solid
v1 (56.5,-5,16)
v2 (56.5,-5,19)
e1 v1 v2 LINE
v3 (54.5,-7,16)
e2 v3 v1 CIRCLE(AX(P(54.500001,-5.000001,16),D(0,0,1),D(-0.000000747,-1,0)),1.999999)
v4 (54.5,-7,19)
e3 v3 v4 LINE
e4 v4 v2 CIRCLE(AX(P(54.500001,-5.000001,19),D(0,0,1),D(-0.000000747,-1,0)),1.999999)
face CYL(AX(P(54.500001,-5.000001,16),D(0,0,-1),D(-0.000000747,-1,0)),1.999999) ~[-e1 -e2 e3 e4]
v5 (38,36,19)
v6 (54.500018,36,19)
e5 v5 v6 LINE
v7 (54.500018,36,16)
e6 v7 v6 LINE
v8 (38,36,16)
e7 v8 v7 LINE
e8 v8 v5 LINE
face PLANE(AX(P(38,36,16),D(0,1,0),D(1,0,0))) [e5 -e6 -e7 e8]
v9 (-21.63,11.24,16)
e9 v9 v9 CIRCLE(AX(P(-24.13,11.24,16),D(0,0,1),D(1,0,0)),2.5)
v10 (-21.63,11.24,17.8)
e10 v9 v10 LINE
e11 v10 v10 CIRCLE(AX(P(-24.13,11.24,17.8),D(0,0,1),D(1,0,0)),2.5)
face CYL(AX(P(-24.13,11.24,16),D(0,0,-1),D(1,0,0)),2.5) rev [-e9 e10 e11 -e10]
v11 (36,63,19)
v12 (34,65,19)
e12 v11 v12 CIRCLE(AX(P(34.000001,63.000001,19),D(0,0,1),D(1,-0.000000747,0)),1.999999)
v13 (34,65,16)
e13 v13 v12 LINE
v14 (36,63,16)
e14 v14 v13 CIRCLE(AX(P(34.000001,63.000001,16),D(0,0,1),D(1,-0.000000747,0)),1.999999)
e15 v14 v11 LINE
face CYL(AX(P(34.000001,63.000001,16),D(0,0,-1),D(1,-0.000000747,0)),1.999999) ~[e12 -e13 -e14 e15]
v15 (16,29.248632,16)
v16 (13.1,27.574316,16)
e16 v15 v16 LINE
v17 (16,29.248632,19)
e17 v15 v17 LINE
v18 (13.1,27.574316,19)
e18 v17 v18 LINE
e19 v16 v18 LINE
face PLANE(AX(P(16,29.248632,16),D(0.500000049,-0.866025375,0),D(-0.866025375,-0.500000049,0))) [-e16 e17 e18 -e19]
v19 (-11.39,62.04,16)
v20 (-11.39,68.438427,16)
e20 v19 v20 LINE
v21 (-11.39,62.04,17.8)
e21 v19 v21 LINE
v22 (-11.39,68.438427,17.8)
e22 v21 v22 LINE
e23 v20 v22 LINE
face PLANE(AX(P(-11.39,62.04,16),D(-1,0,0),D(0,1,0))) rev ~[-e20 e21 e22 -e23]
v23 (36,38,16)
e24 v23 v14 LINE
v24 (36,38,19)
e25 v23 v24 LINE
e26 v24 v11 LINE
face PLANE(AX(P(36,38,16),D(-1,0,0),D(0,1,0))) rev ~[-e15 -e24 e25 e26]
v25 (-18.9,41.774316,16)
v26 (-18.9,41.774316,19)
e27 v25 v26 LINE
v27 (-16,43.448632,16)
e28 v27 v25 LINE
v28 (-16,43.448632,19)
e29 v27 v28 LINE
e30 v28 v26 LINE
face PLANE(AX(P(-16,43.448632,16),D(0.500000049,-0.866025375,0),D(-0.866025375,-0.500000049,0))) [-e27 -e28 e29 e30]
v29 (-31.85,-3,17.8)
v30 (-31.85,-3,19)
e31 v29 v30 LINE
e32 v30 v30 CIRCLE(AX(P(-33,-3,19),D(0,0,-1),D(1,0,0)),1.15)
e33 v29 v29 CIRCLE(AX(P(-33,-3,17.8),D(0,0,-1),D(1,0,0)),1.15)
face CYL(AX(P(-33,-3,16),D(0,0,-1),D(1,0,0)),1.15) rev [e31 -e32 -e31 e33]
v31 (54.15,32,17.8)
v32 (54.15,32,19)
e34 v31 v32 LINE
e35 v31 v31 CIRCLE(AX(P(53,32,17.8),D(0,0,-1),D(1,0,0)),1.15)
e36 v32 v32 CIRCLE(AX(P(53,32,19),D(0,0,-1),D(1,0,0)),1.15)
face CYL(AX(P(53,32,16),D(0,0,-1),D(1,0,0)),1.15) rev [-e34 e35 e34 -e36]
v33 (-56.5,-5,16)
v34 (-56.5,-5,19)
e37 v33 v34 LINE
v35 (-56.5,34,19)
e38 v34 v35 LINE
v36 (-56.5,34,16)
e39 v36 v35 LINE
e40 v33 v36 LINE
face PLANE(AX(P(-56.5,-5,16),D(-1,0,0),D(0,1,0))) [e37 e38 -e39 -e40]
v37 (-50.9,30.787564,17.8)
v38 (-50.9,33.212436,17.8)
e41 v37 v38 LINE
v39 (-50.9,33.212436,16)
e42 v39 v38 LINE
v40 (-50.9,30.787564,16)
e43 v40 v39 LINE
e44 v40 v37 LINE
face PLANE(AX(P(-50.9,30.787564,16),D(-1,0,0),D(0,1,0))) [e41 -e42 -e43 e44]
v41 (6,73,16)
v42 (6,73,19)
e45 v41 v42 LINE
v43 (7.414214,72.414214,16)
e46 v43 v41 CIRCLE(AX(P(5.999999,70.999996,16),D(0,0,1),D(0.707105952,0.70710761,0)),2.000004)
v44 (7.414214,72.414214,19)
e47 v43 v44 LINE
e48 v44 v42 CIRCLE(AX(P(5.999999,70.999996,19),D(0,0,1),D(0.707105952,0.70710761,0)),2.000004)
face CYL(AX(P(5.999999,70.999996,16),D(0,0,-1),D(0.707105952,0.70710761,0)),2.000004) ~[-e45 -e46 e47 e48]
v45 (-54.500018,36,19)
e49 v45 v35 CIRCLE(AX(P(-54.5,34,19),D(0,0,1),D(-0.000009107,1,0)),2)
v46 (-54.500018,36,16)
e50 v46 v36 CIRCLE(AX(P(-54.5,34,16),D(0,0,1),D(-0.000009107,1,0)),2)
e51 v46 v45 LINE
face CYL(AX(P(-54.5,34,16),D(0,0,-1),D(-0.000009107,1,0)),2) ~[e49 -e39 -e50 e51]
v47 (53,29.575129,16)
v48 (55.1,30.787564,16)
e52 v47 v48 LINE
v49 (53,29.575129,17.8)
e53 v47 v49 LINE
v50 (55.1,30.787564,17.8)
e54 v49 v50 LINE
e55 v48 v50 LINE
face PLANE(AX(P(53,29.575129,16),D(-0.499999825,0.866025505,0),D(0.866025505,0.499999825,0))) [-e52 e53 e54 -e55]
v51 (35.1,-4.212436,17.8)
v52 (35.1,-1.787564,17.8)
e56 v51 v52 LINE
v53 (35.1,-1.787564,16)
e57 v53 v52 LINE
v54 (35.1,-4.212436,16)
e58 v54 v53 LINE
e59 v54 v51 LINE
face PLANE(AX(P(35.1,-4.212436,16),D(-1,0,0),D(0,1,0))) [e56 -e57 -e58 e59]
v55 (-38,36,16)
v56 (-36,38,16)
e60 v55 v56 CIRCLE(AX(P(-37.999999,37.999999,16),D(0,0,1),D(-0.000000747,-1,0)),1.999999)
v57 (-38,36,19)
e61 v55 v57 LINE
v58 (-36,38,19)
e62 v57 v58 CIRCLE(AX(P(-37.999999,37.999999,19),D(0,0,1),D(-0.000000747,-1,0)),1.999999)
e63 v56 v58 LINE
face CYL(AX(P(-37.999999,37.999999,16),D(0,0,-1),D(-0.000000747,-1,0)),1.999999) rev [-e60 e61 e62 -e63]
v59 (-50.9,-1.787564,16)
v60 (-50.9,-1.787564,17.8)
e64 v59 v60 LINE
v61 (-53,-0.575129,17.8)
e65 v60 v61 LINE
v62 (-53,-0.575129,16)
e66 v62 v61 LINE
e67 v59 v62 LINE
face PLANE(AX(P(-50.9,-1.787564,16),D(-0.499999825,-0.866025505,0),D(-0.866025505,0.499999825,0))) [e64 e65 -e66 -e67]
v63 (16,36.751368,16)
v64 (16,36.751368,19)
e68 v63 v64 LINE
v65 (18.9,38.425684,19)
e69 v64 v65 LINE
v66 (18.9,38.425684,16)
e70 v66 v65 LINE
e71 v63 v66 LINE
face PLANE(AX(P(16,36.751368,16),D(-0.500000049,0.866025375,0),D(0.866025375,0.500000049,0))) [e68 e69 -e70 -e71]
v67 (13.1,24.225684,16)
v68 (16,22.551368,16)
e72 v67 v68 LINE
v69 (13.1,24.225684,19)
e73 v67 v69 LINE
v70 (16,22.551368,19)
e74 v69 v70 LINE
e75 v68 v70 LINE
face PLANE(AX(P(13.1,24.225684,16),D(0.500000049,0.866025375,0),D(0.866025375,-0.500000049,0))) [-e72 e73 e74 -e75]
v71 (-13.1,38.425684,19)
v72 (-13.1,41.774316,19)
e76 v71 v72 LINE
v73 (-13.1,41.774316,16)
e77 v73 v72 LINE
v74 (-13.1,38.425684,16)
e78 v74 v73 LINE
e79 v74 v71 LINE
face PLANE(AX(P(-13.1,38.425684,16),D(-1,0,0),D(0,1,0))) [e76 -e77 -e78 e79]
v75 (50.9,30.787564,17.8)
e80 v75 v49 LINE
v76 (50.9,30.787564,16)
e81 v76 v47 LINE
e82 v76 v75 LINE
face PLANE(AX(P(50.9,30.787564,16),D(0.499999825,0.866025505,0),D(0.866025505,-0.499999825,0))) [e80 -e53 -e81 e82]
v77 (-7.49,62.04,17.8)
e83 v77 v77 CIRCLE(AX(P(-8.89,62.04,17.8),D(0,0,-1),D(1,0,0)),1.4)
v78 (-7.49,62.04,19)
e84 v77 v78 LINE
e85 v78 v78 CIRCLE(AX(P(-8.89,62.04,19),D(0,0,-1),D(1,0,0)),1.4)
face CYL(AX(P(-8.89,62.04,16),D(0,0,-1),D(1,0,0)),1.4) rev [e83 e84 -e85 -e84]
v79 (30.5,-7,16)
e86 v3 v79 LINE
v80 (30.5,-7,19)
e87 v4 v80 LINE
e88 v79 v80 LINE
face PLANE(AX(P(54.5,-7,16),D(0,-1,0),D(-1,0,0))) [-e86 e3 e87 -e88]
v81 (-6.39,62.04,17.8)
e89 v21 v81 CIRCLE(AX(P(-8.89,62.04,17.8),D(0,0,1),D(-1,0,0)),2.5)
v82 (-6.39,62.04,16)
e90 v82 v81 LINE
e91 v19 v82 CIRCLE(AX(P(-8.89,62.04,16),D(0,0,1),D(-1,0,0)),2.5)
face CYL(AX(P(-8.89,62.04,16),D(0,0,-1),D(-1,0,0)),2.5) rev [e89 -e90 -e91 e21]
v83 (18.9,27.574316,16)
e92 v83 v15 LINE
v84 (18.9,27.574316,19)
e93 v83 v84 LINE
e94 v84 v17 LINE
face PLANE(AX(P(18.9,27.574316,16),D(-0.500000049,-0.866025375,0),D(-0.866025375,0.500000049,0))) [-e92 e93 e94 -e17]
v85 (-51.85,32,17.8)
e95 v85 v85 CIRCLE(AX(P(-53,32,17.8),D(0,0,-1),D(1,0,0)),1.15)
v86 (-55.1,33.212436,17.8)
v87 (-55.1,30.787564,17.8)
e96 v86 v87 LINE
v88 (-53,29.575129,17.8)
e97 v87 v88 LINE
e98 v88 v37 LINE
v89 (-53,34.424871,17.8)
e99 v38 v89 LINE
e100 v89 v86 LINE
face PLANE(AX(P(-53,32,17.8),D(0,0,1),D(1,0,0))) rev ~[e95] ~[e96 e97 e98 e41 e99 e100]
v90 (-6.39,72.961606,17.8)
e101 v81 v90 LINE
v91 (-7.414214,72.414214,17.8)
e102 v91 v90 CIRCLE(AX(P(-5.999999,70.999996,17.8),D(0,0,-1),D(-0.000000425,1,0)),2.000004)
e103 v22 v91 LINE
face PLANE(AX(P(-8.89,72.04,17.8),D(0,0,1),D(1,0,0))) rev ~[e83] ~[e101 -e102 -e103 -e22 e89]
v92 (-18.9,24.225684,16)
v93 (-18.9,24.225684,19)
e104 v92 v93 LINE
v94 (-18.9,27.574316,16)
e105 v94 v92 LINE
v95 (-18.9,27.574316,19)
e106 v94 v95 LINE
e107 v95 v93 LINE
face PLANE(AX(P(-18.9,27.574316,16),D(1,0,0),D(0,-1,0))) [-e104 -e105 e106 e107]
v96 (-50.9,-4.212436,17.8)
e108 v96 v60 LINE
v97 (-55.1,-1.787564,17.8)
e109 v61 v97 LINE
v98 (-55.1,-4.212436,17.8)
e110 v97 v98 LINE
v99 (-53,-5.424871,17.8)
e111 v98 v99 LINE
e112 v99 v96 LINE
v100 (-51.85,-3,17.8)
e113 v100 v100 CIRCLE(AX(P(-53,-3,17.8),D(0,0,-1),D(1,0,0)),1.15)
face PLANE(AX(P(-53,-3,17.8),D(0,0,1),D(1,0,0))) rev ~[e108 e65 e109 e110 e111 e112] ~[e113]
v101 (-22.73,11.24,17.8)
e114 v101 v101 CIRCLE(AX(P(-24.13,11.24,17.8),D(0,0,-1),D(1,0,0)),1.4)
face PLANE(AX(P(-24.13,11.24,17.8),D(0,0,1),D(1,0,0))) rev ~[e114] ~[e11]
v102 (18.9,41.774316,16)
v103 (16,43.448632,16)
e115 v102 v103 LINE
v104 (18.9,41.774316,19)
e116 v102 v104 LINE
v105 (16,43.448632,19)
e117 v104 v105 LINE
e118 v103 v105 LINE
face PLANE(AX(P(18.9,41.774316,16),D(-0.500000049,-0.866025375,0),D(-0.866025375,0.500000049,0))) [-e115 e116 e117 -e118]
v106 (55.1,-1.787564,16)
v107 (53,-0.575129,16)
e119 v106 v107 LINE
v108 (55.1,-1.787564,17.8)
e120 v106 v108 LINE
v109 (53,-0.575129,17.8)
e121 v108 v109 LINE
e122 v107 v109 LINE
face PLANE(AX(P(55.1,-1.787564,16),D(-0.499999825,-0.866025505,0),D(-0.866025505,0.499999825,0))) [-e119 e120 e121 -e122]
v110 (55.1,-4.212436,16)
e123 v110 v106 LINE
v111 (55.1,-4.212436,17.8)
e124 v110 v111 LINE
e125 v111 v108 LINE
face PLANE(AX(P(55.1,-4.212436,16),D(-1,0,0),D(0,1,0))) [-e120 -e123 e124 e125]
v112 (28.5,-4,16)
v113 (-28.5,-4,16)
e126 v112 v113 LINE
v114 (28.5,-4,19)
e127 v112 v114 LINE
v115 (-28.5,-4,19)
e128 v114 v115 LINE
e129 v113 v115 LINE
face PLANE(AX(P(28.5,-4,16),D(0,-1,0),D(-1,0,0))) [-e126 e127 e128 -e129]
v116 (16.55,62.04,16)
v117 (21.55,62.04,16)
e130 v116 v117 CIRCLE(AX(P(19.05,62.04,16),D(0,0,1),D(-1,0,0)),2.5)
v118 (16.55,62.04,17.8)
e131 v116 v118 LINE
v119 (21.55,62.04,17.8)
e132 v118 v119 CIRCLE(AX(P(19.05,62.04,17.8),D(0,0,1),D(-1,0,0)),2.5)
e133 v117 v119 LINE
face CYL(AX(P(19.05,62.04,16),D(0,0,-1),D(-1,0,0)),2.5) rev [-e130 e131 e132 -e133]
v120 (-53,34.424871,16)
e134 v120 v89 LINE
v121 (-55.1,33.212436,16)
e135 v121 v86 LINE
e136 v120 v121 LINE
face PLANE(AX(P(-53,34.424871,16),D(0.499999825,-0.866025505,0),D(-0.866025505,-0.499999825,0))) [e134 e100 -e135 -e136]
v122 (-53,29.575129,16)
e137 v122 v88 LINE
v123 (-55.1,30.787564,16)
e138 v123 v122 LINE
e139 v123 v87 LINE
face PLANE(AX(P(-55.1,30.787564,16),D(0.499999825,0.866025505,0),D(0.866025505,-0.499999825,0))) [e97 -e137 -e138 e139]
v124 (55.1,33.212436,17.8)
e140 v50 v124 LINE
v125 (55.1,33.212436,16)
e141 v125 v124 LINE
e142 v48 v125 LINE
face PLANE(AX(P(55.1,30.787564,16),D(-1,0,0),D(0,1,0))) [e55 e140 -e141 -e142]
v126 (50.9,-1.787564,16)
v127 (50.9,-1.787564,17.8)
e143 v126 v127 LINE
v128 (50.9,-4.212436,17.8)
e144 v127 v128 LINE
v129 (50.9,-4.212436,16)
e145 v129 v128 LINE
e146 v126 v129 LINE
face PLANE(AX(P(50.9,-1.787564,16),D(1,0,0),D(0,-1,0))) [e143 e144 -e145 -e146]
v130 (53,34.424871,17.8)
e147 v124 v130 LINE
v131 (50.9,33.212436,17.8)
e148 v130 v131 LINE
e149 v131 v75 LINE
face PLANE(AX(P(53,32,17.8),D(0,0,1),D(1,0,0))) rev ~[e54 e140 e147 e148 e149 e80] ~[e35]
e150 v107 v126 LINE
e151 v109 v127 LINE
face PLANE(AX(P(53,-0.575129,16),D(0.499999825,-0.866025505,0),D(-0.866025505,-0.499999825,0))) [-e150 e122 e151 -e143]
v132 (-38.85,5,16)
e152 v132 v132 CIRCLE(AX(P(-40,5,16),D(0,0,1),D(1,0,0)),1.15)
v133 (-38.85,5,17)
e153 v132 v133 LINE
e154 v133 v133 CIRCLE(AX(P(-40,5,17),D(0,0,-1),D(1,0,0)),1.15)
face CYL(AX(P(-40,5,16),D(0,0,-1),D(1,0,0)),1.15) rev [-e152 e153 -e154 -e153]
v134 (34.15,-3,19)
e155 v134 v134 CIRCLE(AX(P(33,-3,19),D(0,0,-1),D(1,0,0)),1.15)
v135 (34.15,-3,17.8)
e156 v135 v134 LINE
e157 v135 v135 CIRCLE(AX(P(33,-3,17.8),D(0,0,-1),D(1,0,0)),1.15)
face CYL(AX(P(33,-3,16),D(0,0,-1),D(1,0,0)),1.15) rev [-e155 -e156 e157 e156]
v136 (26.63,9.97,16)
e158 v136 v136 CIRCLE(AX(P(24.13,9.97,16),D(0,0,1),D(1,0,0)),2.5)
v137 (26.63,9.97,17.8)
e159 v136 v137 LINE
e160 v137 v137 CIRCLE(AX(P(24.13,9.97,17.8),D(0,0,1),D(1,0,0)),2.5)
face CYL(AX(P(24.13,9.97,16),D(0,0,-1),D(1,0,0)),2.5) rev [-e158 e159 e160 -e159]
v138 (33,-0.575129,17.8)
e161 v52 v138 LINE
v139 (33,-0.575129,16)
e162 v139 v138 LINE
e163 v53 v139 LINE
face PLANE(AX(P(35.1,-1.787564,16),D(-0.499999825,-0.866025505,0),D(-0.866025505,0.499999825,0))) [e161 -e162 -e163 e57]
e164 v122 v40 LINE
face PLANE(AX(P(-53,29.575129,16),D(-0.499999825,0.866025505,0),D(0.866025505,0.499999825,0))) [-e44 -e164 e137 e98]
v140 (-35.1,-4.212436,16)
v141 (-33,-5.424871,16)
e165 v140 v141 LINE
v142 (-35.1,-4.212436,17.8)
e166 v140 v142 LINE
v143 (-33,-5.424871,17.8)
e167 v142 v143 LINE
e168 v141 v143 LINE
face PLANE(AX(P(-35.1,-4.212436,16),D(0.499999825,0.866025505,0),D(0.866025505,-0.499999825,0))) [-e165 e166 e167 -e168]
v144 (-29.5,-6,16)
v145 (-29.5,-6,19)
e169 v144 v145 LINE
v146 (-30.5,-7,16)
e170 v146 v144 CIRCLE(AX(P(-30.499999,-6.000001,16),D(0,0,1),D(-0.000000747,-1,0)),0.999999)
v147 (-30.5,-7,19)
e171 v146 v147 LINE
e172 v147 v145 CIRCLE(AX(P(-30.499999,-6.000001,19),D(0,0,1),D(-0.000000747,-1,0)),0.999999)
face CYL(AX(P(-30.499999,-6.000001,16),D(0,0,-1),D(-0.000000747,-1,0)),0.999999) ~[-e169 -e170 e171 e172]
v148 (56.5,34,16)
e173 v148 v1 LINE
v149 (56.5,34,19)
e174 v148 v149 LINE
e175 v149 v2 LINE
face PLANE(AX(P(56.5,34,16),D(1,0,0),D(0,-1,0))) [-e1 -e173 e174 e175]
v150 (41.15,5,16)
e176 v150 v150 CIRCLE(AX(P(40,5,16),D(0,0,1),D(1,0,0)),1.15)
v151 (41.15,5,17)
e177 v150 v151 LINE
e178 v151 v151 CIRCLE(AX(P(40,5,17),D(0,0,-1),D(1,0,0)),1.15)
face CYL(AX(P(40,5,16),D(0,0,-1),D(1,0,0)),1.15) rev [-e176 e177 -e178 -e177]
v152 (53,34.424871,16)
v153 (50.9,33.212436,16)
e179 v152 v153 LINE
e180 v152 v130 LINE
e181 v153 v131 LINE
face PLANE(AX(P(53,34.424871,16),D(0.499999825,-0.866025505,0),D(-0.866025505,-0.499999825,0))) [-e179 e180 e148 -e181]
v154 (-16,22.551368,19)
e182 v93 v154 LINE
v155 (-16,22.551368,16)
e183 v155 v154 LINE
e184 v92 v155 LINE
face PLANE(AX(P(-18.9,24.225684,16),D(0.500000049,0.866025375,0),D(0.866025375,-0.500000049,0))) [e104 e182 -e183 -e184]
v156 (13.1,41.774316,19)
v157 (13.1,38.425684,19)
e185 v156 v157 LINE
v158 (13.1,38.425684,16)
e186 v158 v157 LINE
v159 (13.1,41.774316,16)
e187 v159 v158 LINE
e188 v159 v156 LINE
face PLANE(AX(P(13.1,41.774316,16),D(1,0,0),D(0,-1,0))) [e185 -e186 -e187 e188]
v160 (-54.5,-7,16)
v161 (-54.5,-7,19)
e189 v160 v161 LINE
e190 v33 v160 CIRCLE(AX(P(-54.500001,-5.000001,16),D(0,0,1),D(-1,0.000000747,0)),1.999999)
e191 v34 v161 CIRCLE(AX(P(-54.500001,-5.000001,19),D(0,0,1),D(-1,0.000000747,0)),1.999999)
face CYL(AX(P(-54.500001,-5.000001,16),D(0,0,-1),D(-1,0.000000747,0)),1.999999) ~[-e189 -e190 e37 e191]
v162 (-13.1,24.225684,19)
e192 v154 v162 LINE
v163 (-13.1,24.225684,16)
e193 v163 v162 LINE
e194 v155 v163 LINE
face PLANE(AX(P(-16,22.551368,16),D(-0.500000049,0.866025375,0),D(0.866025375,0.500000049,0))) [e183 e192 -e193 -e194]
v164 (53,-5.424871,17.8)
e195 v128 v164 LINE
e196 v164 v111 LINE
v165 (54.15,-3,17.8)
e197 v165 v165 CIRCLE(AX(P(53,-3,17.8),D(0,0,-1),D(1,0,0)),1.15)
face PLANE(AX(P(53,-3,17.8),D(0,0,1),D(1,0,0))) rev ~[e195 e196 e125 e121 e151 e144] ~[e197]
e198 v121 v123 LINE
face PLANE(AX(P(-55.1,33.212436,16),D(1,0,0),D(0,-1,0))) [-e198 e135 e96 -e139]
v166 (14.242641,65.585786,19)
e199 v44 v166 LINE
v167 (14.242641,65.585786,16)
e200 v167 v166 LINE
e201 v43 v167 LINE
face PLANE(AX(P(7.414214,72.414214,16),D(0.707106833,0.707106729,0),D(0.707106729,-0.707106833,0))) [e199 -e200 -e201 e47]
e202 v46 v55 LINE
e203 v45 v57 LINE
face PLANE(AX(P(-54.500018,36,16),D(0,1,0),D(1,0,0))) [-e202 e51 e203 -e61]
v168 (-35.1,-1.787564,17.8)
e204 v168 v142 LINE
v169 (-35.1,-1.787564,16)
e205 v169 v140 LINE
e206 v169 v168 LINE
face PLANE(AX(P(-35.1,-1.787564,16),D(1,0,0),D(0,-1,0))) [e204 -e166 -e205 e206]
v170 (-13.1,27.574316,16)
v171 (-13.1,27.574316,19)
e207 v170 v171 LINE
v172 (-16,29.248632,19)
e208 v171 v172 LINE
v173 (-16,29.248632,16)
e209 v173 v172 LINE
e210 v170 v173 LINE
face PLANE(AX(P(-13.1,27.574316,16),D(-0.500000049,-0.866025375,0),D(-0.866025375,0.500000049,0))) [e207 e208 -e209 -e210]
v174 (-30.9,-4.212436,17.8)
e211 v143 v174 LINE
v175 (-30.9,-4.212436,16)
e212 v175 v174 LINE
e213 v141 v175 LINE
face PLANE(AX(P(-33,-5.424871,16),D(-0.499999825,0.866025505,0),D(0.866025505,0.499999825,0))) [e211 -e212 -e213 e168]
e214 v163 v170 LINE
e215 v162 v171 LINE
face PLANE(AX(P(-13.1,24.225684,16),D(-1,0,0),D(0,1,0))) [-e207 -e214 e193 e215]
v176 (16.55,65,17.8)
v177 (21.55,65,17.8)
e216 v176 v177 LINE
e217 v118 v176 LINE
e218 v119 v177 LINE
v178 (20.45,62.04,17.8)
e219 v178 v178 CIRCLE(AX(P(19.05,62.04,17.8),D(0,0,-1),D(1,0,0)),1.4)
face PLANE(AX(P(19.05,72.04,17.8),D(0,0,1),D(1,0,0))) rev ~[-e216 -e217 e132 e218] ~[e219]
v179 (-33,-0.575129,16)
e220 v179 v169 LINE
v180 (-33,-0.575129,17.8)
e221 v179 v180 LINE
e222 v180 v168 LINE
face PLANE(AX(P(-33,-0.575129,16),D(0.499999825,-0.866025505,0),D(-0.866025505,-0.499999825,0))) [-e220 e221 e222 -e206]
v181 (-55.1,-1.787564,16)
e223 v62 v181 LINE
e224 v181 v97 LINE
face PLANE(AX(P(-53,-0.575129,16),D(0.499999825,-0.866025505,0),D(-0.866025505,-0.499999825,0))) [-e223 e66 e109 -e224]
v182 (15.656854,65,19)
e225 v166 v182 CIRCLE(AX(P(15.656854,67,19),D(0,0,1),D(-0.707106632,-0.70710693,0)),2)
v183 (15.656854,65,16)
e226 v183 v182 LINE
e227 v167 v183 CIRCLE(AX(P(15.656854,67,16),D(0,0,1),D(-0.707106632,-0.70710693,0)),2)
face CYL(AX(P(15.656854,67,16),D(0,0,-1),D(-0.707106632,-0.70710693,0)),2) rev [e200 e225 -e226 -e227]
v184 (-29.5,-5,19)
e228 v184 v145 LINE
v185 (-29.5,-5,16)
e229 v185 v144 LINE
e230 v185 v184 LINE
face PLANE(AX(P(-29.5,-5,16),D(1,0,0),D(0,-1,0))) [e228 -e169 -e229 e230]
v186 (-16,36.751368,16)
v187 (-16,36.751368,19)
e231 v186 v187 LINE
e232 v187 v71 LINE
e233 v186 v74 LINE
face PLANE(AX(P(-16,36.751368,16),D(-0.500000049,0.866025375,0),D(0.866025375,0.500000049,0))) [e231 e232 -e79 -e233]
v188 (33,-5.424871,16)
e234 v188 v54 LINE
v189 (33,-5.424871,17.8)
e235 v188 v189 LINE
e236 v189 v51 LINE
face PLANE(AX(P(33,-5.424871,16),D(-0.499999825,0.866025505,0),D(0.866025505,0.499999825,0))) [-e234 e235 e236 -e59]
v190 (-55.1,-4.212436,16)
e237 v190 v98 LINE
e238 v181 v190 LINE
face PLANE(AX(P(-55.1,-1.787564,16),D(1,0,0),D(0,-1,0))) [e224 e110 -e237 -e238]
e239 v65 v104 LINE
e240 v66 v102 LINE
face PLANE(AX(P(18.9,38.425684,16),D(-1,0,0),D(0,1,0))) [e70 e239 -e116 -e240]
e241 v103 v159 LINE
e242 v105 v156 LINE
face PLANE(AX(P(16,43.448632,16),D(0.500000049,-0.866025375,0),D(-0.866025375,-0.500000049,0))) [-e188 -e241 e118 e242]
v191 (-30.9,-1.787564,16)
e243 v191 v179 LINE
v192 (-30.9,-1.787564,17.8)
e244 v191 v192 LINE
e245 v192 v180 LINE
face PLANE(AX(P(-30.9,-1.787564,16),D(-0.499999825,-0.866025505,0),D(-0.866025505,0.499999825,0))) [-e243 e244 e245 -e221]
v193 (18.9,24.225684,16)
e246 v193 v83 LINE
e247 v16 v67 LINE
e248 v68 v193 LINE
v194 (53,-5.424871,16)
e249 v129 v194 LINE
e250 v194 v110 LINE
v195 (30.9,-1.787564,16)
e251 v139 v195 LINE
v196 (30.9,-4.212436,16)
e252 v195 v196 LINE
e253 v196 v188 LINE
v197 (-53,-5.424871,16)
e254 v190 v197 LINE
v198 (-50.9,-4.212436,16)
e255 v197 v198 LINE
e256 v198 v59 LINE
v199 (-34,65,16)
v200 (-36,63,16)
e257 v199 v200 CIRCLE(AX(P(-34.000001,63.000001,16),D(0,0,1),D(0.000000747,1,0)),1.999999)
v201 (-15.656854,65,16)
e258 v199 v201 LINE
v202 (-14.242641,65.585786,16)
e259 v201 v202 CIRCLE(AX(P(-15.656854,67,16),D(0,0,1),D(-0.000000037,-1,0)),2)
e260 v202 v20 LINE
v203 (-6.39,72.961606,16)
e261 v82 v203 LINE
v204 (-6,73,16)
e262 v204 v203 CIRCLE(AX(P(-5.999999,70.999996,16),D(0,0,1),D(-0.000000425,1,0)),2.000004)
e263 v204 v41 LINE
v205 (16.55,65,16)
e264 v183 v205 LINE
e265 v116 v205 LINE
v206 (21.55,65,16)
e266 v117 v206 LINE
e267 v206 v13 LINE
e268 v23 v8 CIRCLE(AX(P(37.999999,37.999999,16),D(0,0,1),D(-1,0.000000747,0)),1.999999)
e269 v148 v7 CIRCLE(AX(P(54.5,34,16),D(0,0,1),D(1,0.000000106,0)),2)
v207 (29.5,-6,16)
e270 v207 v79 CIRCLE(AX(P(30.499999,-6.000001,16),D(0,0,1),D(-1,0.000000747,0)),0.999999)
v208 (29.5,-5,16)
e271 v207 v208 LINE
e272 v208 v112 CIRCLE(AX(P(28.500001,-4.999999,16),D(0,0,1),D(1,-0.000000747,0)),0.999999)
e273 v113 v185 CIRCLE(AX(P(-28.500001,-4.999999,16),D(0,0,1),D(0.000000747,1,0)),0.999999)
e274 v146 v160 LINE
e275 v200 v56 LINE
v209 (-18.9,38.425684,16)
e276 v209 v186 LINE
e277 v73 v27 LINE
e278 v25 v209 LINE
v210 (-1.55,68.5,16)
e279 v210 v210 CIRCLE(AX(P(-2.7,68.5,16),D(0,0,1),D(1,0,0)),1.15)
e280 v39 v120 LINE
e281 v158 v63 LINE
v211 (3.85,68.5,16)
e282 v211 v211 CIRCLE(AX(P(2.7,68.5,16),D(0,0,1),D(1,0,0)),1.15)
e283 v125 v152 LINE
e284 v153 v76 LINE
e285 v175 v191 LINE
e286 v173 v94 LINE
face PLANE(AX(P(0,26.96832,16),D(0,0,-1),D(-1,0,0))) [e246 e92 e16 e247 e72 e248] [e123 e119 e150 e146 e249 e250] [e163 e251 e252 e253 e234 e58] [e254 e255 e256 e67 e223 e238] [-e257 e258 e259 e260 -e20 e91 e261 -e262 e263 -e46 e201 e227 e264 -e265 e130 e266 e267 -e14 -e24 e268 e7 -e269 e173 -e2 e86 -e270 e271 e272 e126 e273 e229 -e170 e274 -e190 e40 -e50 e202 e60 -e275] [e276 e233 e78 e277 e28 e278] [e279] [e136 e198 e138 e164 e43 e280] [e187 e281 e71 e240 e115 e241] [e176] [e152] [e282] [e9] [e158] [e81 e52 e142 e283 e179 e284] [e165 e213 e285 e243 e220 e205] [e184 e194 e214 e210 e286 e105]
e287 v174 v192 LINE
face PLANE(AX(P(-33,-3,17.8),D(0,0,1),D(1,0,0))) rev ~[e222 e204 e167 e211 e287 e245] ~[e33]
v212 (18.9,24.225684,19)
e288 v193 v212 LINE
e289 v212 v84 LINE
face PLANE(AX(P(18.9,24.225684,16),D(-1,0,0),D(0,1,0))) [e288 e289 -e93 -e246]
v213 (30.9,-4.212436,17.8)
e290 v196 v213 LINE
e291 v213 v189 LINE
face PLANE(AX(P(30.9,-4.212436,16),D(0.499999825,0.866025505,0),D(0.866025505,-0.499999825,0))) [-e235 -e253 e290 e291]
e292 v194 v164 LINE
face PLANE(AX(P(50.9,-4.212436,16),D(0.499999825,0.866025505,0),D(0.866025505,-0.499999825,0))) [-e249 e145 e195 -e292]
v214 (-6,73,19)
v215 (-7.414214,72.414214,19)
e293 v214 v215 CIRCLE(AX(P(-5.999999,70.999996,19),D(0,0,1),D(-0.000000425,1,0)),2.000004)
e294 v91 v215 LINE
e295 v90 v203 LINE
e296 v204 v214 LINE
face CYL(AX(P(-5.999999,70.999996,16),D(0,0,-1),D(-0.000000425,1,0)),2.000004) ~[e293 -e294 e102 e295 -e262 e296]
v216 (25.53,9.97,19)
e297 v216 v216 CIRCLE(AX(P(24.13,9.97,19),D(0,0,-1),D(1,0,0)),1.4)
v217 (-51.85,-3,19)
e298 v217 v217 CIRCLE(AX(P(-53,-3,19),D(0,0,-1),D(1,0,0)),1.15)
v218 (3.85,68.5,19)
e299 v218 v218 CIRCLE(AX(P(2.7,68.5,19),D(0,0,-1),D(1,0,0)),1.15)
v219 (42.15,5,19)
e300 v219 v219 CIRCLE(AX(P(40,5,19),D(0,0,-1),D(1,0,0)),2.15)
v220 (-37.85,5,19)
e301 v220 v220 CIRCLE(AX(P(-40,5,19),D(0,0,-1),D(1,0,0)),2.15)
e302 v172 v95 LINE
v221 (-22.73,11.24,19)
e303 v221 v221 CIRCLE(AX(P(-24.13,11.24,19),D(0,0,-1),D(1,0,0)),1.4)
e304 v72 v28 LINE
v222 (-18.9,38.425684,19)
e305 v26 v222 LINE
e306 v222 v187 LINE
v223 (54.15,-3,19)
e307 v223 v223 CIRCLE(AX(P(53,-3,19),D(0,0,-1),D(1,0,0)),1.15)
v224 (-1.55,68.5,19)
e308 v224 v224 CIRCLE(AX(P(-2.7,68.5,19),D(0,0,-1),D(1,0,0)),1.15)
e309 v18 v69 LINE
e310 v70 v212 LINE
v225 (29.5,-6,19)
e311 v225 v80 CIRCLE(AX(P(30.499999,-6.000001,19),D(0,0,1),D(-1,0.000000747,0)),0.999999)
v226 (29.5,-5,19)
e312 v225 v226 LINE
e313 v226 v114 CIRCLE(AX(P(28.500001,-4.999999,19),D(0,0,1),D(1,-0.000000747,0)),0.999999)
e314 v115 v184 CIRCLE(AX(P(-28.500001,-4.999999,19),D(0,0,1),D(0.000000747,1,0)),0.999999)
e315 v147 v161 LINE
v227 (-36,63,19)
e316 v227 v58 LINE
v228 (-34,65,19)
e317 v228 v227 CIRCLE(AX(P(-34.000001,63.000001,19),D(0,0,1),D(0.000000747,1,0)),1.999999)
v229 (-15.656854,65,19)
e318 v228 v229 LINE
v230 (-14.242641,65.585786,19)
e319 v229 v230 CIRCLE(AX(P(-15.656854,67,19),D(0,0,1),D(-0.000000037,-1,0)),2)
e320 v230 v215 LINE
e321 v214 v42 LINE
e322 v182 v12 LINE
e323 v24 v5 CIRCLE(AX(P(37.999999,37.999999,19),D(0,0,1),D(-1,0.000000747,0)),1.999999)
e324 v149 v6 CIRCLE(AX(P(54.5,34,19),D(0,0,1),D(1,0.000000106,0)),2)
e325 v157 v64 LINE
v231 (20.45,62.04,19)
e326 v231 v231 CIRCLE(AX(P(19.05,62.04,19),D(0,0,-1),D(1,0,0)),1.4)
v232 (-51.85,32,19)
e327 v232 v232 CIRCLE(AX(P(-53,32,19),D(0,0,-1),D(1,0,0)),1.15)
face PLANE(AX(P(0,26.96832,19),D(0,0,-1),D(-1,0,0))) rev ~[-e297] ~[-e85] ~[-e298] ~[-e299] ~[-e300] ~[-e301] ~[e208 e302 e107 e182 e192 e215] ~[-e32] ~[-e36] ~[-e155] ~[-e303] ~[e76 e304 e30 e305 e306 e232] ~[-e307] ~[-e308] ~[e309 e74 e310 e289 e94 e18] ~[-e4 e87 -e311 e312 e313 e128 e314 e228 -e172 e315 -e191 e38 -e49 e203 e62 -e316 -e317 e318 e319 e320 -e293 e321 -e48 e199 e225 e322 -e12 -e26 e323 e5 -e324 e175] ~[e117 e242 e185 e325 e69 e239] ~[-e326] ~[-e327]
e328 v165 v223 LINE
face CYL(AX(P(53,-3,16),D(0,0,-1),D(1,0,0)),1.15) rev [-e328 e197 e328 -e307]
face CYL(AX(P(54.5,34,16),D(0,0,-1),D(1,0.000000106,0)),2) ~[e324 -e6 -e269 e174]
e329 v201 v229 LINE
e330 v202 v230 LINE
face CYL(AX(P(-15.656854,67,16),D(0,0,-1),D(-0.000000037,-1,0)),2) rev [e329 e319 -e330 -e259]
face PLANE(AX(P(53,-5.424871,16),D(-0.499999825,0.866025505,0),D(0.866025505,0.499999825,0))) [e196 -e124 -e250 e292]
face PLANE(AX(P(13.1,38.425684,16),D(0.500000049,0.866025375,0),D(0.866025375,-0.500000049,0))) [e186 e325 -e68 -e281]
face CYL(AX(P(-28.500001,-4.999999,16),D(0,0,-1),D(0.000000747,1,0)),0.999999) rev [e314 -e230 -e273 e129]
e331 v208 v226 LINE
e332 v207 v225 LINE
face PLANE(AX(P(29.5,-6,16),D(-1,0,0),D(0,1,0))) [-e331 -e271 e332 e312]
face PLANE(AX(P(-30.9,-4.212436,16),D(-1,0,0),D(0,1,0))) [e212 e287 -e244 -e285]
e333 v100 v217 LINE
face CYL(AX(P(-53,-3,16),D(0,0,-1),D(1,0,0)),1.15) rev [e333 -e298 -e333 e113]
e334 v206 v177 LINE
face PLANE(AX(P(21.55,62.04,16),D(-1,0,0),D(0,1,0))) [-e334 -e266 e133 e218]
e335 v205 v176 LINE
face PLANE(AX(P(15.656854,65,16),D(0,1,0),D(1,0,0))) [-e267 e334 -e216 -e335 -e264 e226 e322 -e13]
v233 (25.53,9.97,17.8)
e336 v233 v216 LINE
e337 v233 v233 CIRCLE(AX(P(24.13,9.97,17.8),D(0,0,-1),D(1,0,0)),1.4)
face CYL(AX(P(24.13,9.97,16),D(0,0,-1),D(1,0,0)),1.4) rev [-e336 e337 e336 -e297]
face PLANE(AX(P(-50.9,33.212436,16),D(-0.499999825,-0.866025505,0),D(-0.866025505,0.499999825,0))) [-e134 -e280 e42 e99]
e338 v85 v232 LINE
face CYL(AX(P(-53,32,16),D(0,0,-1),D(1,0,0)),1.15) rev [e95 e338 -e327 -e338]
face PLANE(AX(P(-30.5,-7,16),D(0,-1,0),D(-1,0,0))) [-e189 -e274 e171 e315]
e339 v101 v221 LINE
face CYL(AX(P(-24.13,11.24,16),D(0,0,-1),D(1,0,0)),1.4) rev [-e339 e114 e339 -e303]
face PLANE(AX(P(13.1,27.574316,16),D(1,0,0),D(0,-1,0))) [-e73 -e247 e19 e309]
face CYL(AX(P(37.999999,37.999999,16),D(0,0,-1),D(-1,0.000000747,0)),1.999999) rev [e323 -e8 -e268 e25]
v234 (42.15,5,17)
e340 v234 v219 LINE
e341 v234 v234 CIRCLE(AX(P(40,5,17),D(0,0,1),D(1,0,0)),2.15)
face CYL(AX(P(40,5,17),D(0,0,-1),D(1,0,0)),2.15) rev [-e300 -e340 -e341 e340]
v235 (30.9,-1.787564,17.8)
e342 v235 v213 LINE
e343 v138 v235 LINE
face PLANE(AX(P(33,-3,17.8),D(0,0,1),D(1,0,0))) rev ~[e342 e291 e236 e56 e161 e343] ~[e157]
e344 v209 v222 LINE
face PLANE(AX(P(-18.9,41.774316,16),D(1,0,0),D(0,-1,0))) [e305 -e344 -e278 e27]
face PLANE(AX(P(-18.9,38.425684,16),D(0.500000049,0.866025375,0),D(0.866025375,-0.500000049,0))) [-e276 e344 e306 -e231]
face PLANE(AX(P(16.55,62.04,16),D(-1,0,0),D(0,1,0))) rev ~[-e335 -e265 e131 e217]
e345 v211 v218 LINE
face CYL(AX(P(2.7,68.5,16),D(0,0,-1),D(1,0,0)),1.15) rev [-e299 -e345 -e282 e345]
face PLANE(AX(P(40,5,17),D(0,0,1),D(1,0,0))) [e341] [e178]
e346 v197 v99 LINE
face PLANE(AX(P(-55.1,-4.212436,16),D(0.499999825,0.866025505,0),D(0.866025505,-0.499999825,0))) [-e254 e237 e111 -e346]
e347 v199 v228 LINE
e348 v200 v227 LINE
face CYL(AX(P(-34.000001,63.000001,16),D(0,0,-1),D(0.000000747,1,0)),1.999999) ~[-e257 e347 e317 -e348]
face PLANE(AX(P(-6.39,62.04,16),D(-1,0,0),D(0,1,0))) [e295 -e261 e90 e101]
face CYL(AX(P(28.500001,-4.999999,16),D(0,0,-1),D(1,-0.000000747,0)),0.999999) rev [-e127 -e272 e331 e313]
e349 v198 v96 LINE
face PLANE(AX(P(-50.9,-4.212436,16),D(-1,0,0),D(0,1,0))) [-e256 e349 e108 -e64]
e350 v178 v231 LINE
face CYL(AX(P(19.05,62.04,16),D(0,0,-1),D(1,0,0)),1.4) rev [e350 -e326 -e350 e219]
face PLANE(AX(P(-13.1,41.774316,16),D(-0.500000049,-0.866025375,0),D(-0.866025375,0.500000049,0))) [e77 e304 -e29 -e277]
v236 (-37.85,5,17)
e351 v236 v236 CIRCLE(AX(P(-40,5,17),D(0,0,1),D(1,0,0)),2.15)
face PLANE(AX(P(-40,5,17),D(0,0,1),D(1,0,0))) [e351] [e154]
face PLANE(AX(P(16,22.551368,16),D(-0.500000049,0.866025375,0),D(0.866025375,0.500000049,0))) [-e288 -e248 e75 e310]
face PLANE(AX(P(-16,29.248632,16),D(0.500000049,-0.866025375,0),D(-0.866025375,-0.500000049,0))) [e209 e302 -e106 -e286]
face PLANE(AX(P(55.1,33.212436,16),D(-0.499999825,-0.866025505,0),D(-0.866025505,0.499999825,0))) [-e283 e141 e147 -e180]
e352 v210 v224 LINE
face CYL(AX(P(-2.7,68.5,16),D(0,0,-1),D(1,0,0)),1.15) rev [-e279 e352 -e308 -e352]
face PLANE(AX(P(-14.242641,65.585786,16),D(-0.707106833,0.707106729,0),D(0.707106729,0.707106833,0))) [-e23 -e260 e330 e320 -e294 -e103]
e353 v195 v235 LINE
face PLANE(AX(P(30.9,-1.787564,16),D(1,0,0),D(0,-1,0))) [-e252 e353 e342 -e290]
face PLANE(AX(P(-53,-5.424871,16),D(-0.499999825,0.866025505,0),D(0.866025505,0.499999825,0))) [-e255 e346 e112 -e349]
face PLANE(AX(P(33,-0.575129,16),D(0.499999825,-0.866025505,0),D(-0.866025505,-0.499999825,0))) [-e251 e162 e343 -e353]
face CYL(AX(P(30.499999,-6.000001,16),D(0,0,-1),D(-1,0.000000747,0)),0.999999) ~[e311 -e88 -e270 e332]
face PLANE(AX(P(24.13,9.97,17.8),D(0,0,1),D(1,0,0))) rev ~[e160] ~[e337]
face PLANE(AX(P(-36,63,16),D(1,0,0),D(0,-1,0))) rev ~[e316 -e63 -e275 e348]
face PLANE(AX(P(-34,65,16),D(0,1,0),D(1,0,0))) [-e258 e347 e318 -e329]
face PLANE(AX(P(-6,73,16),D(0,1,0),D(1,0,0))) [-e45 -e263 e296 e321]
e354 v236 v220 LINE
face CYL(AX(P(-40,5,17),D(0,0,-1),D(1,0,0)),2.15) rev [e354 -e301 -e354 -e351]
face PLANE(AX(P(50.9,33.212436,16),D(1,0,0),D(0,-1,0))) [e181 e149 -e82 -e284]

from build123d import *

# Parameters (mm, degrees)
PAD001_DEPTH         = 3
SKETCH012_R          = 1.4
POCKET005_DEPTH      = 3.001
SKETCH014_R          = 2.5
POCKET006_DEPTH      = 1.8
POCKET008_DEPTH      = 0.001
POCKET008_DEPTH_BACK = 3.001
SKETCH017_R          = 1.15
POCKET009_DEPTH      = 0.001
POCKET009_DEPTH_BACK = 3.001
POCKET010_DEPTH      = 1.8
SKETCH023_R          = 1.15
POCKET013_DEPTH      = 0.001
POCKET013_DEPTH_BACK = 3.001
SKETCH026_R          = 2.15
POCKET016_DEPTH      = 2.001


with BuildPart() as part:
    # Sketch009 → Pad001 (new body)
    with BuildSketch(Plane.XY):
        with BuildLine():
            Line((56.5, 38), (56.5, -1))
            ThreePointArc((54.5, -3), (55.914214, -2.414214), (56.5, -1))
            Line((54.5, -3), (30.5, -3))
            ThreePointArc((29.5, -2), (29.792893, -2.707107), (30.5, -3))
            Line((29.5, -2), (29.5, -1))
            ThreePointArc((29.5, -1), (29.207107, -0.292893), (28.5, 0))
            Line((28.5, 0), (-28.5, 0))
            ThreePointArc((-28.5, 0), (-29.207107, -0.292893), (-29.5, -1))
            Line((-29.5, -1), (-29.5, -2))
            ThreePointArc((-30.5, -3), (-29.792893, -2.707107), (-29.5, -2))
            Line((-30.5, -3), (-54.5, -3))
            ThreePointArc((-56.5, -1), (-55.914214, -2.414214), (-54.5, -3))
            Line((-56.5, -1), (-56.5, 38))
            ThreePointArc((-54.500018, 40), (-55.91422, 39.414207), (-56.5, 38))
            Line((-54.500018, 40), (-38, 40))
            ThreePointArc((-38, 40), (-36.585786, 40.585786), (-36, 42))
            Line((-36, 67), (-36, 42))
            ThreePointArc((-34, 69), (-35.414214, 68.414214), (-36, 67))
            Line((-34, 69), (-15.656854, 69))
            ThreePointArc((-15.656854, 69), (-14.891487, 69.152241), (-14.242641, 69.585786))
            Line((-14.242641, 69.585786), (-7.414214, 76.414214))
            ThreePointArc((-6, 77), (-6.765367, 76.847759), (-7.414214, 76.414214))
            Line((-6, 77), (6, 77))
            ThreePointArc((7.414214, 76.414214), (6.765367, 76.847759), (6, 77))
            Line((7.414214, 76.414214), (14.242641, 69.585786))
            ThreePointArc((14.242641, 69.585786), (14.891487, 69.152241), (15.656854, 69))
            Line((15.656854, 69), (34, 69))
            ThreePointArc((36, 67), (35.414214, 68.414214), (34, 69))
            Line((36, 42), (36, 67))
            ThreePointArc((36, 42), (36.585786, 40.585786), (38, 40))
            Line((38, 40), (54.500018, 40))
            ThreePointArc((56.5, 38), (55.91422, 39.414207), (54.500018, 40))
        make_face()
    extrude(amount=PAD001_DEPTH)

    # Sketch012 → Pocket005 (cut, through all)
    with BuildSketch(Plane.XY):
        with Locations((-8.89, 66.04)):
            Circle(SKETCH012_R)
        with Locations((19.05, 66.04)):
            Circle(SKETCH012_R)
        with Locations((24.13, 13.97)):
            Circle(SKETCH012_R)
        with Locations((-24.13, 15.24)):
            Circle(SKETCH012_R)
    extrude(amount=POCKET005_DEPTH, mode=Mode.SUBTRACT)

    # Sketch014 → Pocket006 (cut)
    with BuildSketch(Plane.XY):
        with Locations((-24.13, 15.24)):
            Circle(SKETCH014_R)
        with Locations((24.13, 13.97)):
            Circle(SKETCH014_R)
        with BuildLine():
            ThreePointArc((-11.39, 66.04), (-8.89, 63.54), (-6.39, 66.04))
            Line((-6.39, 66.04), (-6.39, 86.04))
            ThreePointArc((-6.39, 86.04), (-8.89, 88.54), (-11.39, 86.04))
            Line((-11.39, 66.04), (-11.39, 86.04))
        make_face()
        with BuildLine():
            ThreePointArc((16.55, 66.04), (19.05, 63.54), (21.55, 66.04))
            Line((21.55, 66.04), (21.55, 86.04))
            ThreePointArc((21.55, 86.04), (19.05, 88.54), (16.55, 86.04))
            Line((16.55, 66.04), (16.55, 86.04))
        make_face()
    extrude(amount=POCKET006_DEPTH, mode=Mode.SUBTRACT)

    # Sketch015 → Pocket008 (cut, two sides)
    with BuildSketch(Plane.XY) as pocket008_sk:
        Polygon((-18.9, 45.774316), (-18.9, 42.425684), (-16, 40.751368), (-13.1, 42.425684), (-13.1, 45.774316), (-16, 47.448632), align=None)
        Polygon((13.1, 45.774316), (13.1, 42.425684), (16, 40.751368), (18.9, 42.425684), (18.9, 45.774316), (16, 47.448632), align=None)
        Polygon((-18.9, 31.574316), (-18.9, 28.225684), (-16, 26.551368), (-13.1, 28.225684), (-13.1, 31.574316), (-16, 33.248632), align=None)
        Polygon((13.1, 31.574316), (13.1, 28.225684), (16, 26.551368), (18.9, 28.225684), (18.9, 31.574316), (16, 33.248632), align=None)
    extrude(amount=-POCKET008_DEPTH, mode=Mode.SUBTRACT)
    extrude(pocket008_sk.sketch, amount=POCKET008_DEPTH_BACK, mode=Mode.SUBTRACT)

    # Sketch017 → Pocket009 (cut, two sides)
    with BuildSketch(Plane.XY) as pocket009_sk:
        with Locations((-53, 36)):
            Circle(SKETCH017_R)
        with Locations((-33, 1)):
            Circle(SKETCH017_R)
        with Locations((-53, 1)):
            Circle(SKETCH017_R)
        with Locations((53, 36)):
            Circle(SKETCH017_R)
        with Locations((53, 1)):
            Circle(SKETCH017_R)
        with Locations((33, 1)):
            Circle(SKETCH017_R)
    extrude(amount=-POCKET009_DEPTH, mode=Mode.SUBTRACT)
    extrude(pocket009_sk.sketch, amount=POCKET009_DEPTH_BACK, mode=Mode.SUBTRACT)

    # Sketch018 → Pocket010 (cut)
    with BuildSketch(Plane.XY):
        Polygon((53, 33.575129), (55.1, 34.787564), (55.1, 37.212436), (53, 38.424871), (50.9, 37.212436), (50.9, 34.787564), align=None)
        Polygon((53, 3.424871), (50.9, 2.212436), (50.9, -0.212436), (53, -1.424871), (55.1, -0.212436), (55.1, 2.212436), align=None)
        Polygon((33, 3.424871), (30.9, 2.212436), (30.9, -0.212436), (33, -1.424871), (35.1, -0.212436), (35.1, 2.212436), align=None)
        Polygon((-33, 3.424871), (-35.1, 2.212436), (-35.1, -0.212436), (-33, -1.424871), (-30.9, -0.212436), (-30.9, 2.212436), align=None)
        Polygon((-53, 3.424871), (-55.1, 2.212436), (-55.1, -0.212436), (-53, -1.424871), (-50.9, -0.212436), (-50.9, 2.212436), align=None)
        Polygon((-53, 33.575129), (-50.9, 34.787564), (-50.9, 37.212436), (-53, 38.424871), (-55.1, 37.212436), (-55.1, 34.787564), align=None)
    extrude(amount=POCKET010_DEPTH, mode=Mode.SUBTRACT)

    # Sketch023 → Pocket013 (cut, two sides)
    with BuildSketch(Plane.XY) as pocket013_sk:
        with Locations((-40, 9)):
            Circle(SKETCH023_R)
        with Locations((40, 9)):
            Circle(SKETCH023_R)
        with Locations((2.7, 72.5)):
            Circle(SKETCH023_R)
        with Locations((-2.7, 72.5)):
            Circle(SKETCH023_R)
    extrude(amount=-POCKET013_DEPTH, mode=Mode.SUBTRACT)
    extrude(pocket013_sk.sketch, amount=POCKET013_DEPTH_BACK, mode=Mode.SUBTRACT)

    # Sketch026 (on DatumPlane) → Pocket016 (cut, through all)
    with BuildSketch(Plane.XY.offset(1)):
        with Locations((-40, 9)):
            Circle(SKETCH026_R)
        with Locations((40, 9)):
            Circle(SKETCH026_R)
    extrude(amount=POCKET016_DEPTH, mode=Mode.SUBTRACT)


with BuildPart() as part_1:
    # Body001 placement: moved
    add(part.part.moved(Location((0, -4, 16))))


solid = part_1.part
